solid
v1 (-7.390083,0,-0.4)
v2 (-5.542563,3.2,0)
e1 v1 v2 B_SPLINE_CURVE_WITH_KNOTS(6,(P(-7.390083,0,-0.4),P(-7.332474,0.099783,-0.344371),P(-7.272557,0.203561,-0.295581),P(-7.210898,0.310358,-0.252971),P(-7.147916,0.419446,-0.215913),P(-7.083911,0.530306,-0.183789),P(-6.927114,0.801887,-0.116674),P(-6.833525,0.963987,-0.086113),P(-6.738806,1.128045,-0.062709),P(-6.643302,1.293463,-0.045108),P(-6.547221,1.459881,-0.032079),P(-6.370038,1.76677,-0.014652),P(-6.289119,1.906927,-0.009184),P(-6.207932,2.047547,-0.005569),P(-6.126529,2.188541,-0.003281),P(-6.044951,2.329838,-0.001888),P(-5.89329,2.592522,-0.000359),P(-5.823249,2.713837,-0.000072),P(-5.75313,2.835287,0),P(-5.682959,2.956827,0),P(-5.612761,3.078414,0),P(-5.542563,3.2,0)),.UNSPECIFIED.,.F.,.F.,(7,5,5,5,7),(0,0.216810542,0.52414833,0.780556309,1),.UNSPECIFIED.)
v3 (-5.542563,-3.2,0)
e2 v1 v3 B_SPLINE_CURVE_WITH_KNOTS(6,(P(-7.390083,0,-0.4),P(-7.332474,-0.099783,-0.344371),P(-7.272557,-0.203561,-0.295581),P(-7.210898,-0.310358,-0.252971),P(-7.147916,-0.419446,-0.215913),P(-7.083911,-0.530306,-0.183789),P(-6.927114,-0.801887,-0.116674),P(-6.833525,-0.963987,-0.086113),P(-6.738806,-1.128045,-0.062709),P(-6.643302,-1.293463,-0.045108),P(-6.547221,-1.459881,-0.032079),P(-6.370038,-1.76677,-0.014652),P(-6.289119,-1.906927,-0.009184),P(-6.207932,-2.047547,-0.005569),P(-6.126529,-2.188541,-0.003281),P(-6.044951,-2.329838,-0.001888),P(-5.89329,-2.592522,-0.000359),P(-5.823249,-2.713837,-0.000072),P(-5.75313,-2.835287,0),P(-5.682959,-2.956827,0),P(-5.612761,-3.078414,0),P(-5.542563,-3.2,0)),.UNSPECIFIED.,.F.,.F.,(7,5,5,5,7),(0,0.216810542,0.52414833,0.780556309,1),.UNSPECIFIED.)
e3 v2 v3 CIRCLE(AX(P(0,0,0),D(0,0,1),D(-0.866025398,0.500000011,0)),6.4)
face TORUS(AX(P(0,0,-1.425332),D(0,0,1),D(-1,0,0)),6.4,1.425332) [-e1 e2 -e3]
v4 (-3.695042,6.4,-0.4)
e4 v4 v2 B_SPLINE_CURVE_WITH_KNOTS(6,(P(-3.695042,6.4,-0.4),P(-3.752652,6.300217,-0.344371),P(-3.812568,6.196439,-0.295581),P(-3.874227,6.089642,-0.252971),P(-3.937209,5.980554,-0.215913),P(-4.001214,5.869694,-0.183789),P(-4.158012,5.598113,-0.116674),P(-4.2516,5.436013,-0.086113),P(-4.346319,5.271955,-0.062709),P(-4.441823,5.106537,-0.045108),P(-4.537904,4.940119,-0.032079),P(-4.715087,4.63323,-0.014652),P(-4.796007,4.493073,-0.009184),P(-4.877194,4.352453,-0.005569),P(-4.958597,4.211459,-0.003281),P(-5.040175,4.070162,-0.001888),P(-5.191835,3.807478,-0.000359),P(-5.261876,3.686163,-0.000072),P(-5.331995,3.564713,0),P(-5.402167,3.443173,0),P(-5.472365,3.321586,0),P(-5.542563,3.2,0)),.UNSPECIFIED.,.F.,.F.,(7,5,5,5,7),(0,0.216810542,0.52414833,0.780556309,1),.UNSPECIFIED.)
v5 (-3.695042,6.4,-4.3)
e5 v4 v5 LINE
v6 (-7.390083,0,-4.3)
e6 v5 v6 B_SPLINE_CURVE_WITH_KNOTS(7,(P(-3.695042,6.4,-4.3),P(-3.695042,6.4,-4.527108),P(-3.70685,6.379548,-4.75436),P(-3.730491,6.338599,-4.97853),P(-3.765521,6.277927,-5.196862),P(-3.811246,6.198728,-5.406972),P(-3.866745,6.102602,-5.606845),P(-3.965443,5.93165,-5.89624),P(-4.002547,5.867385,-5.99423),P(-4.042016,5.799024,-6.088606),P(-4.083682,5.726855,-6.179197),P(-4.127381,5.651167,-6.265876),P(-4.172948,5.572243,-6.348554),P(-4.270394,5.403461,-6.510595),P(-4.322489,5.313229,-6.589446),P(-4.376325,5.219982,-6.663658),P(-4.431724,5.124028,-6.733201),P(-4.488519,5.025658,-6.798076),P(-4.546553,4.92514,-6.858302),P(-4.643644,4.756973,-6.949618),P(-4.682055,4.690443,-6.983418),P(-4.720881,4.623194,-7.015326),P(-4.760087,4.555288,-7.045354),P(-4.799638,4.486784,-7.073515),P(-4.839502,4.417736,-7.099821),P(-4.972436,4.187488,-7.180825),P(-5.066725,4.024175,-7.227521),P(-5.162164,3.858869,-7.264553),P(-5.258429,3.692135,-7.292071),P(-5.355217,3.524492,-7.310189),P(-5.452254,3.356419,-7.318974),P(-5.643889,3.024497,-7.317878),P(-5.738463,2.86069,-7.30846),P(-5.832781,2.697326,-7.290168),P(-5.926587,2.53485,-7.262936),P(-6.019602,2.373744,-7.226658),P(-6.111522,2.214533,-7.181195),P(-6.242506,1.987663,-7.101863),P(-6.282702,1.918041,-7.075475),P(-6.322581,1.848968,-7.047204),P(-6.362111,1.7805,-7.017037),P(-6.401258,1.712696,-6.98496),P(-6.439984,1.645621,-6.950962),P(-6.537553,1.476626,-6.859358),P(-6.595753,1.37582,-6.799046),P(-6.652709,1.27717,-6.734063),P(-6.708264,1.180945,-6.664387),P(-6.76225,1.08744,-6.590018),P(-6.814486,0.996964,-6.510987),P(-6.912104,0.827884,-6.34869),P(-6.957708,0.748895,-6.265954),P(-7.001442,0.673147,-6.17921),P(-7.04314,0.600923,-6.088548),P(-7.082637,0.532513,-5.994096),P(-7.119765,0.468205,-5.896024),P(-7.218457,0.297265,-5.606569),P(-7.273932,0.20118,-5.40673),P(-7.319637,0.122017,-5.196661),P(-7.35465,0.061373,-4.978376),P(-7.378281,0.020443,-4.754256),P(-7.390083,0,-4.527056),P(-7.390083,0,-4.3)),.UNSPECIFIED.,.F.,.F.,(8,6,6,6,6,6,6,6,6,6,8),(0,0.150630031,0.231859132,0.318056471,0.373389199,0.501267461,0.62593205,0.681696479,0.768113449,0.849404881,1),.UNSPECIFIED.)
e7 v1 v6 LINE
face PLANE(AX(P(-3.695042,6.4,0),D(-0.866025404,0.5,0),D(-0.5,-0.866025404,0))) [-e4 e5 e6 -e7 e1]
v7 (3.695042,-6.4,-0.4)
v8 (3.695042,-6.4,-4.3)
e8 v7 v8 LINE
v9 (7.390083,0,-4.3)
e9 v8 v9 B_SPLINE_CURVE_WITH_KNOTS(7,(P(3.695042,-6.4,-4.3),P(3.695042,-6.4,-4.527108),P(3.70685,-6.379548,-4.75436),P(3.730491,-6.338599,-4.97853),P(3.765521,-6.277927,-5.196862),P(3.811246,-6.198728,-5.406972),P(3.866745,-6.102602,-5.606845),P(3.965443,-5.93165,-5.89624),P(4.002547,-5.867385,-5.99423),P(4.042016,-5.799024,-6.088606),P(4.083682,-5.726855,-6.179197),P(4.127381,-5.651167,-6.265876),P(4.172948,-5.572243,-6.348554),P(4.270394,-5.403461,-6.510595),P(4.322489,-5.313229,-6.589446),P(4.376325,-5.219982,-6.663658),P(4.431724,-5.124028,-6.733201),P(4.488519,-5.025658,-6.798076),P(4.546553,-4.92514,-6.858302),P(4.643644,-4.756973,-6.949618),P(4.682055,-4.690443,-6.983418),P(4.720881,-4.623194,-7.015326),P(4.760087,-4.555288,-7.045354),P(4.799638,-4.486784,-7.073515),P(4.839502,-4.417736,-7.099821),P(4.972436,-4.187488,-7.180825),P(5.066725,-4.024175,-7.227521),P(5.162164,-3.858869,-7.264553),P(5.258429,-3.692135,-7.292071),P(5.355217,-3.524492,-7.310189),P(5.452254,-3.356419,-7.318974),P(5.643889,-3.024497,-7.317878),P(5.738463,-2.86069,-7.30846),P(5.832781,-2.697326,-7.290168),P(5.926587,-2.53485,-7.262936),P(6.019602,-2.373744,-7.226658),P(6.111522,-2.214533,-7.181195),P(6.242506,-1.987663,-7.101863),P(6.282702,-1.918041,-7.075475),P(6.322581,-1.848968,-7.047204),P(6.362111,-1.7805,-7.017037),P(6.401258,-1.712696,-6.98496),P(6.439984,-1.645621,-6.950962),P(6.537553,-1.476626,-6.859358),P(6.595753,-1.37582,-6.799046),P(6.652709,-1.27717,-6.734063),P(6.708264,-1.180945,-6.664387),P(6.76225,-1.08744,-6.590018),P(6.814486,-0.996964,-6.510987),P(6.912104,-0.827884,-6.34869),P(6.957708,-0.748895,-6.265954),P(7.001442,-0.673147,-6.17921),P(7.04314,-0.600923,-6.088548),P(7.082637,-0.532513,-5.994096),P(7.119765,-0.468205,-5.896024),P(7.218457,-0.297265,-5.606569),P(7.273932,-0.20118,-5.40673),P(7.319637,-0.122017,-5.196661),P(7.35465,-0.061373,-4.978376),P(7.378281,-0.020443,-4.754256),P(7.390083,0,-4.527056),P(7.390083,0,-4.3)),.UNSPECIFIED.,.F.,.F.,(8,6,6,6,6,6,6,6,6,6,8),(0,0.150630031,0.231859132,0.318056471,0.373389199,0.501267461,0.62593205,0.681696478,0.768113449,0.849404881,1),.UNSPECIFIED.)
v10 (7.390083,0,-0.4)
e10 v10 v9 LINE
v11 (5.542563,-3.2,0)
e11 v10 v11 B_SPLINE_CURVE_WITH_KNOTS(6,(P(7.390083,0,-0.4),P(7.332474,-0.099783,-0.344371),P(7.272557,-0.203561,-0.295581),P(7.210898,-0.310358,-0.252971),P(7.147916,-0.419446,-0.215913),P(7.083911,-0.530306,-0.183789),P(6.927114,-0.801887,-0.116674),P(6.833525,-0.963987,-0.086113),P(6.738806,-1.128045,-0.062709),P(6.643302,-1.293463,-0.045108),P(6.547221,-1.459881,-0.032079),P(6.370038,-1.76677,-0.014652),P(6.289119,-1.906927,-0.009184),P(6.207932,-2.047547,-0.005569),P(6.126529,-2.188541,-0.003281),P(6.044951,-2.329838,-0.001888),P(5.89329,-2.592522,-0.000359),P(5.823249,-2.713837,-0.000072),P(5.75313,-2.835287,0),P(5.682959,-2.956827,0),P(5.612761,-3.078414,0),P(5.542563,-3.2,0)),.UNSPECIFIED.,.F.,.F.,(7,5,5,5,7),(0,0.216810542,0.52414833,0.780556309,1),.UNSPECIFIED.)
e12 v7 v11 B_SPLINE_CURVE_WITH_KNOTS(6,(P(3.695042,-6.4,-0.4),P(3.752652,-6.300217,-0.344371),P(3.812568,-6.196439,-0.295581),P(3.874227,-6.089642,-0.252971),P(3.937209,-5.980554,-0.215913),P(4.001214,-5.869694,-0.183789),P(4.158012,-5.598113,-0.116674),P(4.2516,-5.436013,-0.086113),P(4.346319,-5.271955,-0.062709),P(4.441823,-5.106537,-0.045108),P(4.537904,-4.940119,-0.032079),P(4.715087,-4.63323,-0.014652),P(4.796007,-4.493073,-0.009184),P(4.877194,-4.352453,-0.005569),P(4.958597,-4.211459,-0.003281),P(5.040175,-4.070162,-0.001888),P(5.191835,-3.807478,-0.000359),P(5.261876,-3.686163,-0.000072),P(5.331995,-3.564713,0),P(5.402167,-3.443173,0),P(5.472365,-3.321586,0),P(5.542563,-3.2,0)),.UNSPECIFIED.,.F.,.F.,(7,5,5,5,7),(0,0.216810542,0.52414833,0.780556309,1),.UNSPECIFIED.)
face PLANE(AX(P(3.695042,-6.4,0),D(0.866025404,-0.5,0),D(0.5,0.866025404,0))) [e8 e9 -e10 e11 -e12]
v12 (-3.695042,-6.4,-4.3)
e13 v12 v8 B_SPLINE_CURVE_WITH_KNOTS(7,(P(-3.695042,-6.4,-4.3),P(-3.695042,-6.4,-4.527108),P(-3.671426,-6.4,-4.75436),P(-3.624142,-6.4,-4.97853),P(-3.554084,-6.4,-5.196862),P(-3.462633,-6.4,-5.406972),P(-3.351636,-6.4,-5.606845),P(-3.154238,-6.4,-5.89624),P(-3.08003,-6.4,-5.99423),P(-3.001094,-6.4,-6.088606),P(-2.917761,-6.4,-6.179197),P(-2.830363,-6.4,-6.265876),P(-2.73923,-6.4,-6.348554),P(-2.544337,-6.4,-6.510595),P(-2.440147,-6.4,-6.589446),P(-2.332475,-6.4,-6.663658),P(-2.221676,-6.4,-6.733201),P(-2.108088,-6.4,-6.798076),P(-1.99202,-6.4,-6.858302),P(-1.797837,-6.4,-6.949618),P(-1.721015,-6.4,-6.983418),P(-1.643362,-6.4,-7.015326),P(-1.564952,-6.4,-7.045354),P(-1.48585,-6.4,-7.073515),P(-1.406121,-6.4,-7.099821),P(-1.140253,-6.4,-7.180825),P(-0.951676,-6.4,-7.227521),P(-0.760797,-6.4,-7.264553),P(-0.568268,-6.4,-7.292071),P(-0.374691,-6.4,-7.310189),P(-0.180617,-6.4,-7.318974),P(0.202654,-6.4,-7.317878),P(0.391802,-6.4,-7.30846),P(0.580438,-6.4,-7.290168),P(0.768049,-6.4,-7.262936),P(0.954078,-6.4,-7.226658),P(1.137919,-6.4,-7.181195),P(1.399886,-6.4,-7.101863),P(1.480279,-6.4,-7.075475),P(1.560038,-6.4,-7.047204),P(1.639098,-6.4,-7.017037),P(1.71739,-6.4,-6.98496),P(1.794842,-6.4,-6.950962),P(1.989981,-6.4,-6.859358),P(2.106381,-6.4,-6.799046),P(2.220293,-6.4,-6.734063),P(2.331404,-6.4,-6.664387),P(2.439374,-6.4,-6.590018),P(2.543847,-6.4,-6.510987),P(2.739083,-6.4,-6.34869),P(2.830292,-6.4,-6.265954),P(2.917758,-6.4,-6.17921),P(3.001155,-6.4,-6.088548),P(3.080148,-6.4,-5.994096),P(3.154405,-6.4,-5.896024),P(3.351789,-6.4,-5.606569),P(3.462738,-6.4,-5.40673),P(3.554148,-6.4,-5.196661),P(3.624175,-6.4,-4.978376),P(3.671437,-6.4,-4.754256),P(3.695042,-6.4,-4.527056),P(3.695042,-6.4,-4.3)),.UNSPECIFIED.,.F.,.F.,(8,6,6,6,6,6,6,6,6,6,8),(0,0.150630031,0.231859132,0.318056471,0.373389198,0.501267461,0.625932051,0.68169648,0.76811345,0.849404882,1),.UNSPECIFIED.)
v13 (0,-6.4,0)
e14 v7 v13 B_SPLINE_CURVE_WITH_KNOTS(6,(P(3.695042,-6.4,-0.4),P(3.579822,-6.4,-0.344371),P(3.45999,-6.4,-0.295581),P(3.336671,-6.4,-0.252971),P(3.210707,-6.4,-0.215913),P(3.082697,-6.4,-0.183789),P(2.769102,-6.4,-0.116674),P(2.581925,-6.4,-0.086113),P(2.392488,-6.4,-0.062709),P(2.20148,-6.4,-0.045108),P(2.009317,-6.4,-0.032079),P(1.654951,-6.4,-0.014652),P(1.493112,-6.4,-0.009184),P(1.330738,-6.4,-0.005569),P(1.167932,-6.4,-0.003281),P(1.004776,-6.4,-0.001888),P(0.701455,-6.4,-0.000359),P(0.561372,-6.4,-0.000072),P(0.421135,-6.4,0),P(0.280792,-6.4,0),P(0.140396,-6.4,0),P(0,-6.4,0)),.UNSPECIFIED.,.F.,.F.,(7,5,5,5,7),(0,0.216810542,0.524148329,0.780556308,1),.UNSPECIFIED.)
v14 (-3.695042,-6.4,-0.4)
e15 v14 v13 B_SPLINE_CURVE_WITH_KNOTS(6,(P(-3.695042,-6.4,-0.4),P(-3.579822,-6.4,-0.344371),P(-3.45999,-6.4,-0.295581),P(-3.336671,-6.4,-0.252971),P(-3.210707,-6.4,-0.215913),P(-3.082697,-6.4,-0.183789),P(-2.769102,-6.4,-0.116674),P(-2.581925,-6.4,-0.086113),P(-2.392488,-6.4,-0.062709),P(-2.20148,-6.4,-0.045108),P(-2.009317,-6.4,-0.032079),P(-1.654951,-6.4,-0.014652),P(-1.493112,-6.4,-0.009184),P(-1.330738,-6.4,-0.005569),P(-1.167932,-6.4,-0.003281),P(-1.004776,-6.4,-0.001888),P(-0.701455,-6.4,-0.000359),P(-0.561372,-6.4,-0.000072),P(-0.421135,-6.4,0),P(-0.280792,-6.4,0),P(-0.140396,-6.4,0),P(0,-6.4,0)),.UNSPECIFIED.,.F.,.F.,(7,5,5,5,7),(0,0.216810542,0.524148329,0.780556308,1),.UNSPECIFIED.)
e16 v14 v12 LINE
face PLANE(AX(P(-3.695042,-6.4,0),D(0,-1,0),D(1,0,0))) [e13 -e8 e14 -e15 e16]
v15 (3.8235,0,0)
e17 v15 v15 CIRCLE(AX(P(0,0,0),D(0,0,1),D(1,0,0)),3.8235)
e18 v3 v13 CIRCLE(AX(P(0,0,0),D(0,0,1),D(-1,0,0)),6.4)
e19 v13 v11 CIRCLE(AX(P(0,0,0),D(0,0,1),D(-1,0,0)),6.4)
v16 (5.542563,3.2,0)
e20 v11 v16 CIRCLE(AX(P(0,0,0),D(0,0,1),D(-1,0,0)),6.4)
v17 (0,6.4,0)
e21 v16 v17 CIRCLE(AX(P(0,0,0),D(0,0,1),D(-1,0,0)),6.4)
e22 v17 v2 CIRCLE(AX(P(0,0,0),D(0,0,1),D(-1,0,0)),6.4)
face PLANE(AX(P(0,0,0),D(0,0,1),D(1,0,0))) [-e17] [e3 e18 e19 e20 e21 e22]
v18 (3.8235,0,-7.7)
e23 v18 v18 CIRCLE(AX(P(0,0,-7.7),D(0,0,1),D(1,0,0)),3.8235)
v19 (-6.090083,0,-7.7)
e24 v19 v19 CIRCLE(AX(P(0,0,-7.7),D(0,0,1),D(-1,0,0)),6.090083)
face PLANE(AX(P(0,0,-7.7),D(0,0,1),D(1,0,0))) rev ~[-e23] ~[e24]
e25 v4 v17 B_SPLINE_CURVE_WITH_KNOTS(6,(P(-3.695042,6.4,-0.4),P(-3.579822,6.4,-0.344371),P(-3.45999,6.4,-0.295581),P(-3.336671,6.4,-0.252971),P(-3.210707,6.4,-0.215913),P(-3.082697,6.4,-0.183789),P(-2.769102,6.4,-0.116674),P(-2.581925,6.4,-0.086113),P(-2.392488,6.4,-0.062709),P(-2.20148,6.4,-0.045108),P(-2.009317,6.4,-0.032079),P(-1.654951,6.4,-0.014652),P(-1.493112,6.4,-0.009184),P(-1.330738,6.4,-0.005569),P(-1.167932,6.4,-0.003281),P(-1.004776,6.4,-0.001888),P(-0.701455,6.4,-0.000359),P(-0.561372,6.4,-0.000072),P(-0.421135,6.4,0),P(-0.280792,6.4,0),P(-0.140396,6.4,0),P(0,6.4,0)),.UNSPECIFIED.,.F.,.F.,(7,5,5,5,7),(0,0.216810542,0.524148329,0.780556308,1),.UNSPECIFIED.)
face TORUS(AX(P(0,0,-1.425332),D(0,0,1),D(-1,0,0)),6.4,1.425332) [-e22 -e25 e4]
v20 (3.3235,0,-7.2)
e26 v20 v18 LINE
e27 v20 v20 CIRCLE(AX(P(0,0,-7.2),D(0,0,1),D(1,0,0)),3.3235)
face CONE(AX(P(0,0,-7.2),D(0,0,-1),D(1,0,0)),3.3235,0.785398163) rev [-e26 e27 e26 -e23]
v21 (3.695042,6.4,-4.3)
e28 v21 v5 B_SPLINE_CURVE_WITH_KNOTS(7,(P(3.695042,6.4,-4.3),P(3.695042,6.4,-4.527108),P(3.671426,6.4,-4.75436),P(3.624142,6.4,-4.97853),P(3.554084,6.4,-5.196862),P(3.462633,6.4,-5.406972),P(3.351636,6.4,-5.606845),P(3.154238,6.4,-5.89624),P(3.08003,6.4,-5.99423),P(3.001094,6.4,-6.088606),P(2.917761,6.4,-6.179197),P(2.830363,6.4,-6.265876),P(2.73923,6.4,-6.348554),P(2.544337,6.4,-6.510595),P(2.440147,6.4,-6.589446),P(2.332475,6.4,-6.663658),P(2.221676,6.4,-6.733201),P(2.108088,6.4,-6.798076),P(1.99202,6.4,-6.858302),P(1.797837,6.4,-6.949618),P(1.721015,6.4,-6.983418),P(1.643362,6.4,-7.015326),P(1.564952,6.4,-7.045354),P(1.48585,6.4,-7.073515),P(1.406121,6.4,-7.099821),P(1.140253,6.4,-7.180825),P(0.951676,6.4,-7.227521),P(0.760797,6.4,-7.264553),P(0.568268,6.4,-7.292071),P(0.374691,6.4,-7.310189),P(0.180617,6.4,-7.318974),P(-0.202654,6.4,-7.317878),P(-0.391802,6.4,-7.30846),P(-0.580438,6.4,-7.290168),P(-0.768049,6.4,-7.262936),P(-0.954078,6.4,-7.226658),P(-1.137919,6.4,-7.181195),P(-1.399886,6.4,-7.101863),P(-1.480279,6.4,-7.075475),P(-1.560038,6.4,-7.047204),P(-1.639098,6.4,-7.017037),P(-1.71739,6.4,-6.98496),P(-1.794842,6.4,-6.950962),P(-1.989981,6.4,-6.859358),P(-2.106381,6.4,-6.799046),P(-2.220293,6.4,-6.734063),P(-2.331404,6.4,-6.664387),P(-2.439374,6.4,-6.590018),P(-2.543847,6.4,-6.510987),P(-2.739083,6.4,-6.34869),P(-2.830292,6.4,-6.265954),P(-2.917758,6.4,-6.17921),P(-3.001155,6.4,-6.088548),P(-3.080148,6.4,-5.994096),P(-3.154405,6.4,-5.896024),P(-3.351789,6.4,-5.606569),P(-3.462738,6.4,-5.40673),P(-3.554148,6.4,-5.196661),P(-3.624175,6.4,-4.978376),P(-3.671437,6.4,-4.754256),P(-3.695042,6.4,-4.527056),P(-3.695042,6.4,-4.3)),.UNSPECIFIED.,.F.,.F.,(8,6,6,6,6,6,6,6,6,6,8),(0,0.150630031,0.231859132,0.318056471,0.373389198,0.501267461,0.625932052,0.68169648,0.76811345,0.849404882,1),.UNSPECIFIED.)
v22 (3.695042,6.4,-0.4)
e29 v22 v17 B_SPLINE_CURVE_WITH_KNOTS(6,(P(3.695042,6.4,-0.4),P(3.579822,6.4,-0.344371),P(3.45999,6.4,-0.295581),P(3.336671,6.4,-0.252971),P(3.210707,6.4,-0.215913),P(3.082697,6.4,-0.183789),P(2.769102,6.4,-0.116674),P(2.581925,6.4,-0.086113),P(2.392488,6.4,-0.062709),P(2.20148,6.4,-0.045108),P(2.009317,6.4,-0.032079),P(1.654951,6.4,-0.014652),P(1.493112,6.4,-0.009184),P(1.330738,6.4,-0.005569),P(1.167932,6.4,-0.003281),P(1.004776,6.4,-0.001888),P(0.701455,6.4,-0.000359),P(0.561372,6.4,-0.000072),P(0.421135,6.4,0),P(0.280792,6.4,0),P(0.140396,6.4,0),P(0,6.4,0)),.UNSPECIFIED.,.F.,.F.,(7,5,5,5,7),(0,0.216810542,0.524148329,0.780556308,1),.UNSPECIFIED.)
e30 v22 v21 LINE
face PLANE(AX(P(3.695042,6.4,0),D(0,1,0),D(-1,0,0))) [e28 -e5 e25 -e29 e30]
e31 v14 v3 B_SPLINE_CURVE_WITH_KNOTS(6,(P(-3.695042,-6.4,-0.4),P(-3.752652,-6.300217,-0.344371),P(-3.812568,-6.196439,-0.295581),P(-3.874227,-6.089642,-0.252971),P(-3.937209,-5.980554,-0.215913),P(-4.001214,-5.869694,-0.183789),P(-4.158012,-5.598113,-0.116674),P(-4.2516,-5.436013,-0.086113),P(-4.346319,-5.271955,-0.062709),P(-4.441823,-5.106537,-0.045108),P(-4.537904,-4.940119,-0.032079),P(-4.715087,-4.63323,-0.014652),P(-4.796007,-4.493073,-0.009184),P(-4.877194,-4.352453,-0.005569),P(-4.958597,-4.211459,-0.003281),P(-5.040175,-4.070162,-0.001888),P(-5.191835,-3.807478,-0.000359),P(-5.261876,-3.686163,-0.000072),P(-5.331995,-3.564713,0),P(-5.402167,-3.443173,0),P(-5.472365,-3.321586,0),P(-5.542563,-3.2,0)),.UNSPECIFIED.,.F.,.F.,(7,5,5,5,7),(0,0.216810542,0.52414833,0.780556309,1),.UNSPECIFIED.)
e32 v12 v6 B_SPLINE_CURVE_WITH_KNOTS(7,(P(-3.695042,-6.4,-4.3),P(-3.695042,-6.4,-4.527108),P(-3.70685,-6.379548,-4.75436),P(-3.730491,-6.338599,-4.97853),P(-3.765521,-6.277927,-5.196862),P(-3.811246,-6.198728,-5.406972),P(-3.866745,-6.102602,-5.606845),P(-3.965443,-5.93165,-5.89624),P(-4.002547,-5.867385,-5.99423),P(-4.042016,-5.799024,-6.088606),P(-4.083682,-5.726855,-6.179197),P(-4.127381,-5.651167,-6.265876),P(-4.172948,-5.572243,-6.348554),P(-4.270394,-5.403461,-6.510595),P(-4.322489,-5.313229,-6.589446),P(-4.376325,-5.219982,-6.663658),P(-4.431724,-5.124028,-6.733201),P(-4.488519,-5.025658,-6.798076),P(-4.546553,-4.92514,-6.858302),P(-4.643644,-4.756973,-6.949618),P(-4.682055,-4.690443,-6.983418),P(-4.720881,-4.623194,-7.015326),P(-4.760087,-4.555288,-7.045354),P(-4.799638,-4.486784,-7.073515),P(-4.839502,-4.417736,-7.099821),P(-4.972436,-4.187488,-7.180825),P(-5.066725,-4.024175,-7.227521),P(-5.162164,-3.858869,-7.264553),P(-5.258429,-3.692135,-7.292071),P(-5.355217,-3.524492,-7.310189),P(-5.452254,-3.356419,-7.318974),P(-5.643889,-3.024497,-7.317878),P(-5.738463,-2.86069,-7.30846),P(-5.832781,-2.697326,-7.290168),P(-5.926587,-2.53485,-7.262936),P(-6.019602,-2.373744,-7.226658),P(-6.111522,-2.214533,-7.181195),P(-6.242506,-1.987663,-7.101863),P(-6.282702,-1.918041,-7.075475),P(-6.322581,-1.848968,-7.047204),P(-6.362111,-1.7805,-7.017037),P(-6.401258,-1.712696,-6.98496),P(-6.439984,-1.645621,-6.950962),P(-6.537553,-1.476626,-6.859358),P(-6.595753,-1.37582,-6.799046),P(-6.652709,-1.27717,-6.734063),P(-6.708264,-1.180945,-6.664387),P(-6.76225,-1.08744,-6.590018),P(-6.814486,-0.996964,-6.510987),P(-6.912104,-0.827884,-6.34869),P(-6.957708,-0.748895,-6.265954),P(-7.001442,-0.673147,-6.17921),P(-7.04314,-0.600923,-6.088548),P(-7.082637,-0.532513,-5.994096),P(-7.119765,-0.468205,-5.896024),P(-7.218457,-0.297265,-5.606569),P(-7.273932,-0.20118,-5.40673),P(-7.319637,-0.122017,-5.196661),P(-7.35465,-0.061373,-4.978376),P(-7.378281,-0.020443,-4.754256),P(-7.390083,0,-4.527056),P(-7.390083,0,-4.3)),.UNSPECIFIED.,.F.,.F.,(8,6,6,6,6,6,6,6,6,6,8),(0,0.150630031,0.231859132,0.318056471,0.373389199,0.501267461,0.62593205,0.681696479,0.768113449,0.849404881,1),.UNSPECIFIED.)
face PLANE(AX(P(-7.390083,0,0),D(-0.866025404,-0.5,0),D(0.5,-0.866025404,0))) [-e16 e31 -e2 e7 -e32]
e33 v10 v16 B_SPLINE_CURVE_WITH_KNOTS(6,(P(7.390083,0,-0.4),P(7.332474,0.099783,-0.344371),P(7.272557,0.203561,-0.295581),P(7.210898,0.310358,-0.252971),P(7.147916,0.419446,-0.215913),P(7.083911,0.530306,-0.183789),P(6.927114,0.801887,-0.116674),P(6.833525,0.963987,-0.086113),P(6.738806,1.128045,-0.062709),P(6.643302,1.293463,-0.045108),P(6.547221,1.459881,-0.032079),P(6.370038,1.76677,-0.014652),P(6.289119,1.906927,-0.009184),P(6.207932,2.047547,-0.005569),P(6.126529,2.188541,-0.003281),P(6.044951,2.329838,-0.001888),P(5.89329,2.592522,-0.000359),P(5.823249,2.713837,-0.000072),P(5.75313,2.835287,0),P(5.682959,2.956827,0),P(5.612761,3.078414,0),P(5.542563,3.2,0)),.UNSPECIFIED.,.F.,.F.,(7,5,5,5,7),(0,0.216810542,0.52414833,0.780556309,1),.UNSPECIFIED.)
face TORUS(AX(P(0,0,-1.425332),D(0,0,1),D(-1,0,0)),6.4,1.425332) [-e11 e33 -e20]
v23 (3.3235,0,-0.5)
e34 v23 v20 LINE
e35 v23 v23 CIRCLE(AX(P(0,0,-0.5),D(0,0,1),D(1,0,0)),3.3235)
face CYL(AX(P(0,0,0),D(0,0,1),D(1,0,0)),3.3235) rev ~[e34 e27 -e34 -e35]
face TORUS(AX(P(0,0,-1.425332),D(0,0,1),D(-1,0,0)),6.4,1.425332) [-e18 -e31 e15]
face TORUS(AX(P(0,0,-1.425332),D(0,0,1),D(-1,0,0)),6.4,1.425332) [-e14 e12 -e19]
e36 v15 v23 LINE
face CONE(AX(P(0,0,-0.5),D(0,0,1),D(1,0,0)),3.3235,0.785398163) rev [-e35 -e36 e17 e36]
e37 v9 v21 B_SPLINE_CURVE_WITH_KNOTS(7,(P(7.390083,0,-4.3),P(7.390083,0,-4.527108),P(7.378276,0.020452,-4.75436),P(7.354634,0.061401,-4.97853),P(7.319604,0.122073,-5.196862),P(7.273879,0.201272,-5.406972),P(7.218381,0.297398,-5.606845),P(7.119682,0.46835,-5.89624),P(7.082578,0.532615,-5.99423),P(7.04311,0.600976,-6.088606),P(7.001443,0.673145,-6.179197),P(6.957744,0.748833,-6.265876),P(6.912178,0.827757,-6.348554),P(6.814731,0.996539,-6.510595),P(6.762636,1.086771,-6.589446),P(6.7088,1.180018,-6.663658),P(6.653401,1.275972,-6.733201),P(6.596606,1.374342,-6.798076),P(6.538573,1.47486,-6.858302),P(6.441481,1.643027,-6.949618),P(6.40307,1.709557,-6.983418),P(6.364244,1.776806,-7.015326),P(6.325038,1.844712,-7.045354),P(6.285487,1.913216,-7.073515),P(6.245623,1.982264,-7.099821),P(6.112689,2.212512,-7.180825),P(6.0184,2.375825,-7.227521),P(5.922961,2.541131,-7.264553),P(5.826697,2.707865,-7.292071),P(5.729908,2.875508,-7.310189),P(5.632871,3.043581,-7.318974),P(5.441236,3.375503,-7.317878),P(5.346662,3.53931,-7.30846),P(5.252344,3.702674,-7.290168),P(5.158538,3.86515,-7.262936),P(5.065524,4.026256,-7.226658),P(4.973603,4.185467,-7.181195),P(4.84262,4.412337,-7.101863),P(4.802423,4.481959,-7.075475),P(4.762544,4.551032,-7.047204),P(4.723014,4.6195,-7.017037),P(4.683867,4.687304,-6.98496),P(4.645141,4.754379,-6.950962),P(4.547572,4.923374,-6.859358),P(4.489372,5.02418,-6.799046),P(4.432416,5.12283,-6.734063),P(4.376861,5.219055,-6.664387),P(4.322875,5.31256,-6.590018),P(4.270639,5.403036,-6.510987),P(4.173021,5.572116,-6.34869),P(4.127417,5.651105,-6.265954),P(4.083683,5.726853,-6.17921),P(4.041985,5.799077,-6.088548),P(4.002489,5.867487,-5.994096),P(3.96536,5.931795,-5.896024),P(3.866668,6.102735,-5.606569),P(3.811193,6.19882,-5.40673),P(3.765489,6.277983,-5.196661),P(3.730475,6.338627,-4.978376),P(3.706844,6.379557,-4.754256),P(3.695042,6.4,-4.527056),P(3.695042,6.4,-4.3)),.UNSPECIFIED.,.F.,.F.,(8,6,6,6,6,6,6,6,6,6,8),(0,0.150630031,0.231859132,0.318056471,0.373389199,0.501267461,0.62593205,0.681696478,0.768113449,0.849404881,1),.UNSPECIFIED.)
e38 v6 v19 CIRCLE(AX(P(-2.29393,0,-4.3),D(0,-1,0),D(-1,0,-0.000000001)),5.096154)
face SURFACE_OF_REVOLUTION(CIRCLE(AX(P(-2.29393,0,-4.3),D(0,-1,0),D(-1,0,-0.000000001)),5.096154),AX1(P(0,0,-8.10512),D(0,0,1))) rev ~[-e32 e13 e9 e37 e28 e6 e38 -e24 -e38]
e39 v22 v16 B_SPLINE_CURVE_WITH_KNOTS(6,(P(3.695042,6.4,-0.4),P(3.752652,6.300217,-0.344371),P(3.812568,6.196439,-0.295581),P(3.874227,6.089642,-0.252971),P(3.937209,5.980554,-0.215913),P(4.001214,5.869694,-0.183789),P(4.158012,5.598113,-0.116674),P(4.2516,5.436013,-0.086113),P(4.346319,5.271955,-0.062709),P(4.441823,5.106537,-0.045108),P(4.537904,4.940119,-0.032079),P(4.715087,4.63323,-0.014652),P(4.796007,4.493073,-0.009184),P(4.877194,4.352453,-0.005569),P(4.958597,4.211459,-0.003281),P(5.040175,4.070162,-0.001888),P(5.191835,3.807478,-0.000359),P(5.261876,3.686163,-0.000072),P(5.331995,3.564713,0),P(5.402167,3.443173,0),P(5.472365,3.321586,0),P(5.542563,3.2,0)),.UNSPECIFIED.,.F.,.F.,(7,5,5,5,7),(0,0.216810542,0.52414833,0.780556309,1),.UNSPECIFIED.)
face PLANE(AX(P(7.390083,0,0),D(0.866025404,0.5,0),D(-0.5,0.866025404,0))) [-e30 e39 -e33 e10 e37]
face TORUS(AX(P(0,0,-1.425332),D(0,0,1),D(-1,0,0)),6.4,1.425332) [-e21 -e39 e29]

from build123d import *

# Parameters (mm, degrees)
SKETCH1_R           = 3.3235
BOSS_EXTRUDE1_DEPTH = 7.7
CHAMFER1_SIZE       = 0.5


with BuildPart() as part:
    # Sketch1 → Boss-Extrude1 (new body)
    with BuildSketch(Plane.XY):
        Polygon((3.695041723, 6.4), (-3.695041723, 6.4), (-7.390083446, 0), (-3.695041723, -6.4), (3.695041723, -6.4), (7.390083446, 0), align=None)
        Circle(SKETCH1_R, mode=Mode.SUBTRACT)
    extrude(amount=-BOSS_EXTRUDE1_DEPTH)

    # Sketch2 → Cut-Revolve1 (revolve, cut)
    with BuildSketch(Plane(origin=(0, 0, 0), x_dir=(1, 0, 0), z_dir=(0, 1, 0))):
        with BuildLine():
            Line((-7.390083446, 7.7), (-7.390083446, 4.3))
            ThreePointArc((-7.390083446, 4.3), (-7.05400145, 6.120027472), (-6.090083446, 7.7))
            Line((-6.090083446, 7.7), (-7.390083446, 7.7))
        make_face()
        with BuildLine():
            Line((-7.390083446, 0), (-7.390083446, 0.4))
            ThreePointArc((-7.390083446, 0.4), (-6.933916011, 0.103778026), (-6.4, 0))
            Line((-6.4, 0), (-7.390083446, 0))
        make_face()
    revolve(axis=Axis((0, 0, -8.105120256), (0, 0, 1)), mode=Mode.SUBTRACT)

    # Chamfer1
    chamfer1_edges = [part.edges().sort_by_distance(p)[0] for p in [
        (-3.3235, 0, -7.7),
        (-3.3235, 0, 0),
    ]]
    chamfer(chamfer1_edges, length=CHAMFER1_SIZE)


solid = part.part
